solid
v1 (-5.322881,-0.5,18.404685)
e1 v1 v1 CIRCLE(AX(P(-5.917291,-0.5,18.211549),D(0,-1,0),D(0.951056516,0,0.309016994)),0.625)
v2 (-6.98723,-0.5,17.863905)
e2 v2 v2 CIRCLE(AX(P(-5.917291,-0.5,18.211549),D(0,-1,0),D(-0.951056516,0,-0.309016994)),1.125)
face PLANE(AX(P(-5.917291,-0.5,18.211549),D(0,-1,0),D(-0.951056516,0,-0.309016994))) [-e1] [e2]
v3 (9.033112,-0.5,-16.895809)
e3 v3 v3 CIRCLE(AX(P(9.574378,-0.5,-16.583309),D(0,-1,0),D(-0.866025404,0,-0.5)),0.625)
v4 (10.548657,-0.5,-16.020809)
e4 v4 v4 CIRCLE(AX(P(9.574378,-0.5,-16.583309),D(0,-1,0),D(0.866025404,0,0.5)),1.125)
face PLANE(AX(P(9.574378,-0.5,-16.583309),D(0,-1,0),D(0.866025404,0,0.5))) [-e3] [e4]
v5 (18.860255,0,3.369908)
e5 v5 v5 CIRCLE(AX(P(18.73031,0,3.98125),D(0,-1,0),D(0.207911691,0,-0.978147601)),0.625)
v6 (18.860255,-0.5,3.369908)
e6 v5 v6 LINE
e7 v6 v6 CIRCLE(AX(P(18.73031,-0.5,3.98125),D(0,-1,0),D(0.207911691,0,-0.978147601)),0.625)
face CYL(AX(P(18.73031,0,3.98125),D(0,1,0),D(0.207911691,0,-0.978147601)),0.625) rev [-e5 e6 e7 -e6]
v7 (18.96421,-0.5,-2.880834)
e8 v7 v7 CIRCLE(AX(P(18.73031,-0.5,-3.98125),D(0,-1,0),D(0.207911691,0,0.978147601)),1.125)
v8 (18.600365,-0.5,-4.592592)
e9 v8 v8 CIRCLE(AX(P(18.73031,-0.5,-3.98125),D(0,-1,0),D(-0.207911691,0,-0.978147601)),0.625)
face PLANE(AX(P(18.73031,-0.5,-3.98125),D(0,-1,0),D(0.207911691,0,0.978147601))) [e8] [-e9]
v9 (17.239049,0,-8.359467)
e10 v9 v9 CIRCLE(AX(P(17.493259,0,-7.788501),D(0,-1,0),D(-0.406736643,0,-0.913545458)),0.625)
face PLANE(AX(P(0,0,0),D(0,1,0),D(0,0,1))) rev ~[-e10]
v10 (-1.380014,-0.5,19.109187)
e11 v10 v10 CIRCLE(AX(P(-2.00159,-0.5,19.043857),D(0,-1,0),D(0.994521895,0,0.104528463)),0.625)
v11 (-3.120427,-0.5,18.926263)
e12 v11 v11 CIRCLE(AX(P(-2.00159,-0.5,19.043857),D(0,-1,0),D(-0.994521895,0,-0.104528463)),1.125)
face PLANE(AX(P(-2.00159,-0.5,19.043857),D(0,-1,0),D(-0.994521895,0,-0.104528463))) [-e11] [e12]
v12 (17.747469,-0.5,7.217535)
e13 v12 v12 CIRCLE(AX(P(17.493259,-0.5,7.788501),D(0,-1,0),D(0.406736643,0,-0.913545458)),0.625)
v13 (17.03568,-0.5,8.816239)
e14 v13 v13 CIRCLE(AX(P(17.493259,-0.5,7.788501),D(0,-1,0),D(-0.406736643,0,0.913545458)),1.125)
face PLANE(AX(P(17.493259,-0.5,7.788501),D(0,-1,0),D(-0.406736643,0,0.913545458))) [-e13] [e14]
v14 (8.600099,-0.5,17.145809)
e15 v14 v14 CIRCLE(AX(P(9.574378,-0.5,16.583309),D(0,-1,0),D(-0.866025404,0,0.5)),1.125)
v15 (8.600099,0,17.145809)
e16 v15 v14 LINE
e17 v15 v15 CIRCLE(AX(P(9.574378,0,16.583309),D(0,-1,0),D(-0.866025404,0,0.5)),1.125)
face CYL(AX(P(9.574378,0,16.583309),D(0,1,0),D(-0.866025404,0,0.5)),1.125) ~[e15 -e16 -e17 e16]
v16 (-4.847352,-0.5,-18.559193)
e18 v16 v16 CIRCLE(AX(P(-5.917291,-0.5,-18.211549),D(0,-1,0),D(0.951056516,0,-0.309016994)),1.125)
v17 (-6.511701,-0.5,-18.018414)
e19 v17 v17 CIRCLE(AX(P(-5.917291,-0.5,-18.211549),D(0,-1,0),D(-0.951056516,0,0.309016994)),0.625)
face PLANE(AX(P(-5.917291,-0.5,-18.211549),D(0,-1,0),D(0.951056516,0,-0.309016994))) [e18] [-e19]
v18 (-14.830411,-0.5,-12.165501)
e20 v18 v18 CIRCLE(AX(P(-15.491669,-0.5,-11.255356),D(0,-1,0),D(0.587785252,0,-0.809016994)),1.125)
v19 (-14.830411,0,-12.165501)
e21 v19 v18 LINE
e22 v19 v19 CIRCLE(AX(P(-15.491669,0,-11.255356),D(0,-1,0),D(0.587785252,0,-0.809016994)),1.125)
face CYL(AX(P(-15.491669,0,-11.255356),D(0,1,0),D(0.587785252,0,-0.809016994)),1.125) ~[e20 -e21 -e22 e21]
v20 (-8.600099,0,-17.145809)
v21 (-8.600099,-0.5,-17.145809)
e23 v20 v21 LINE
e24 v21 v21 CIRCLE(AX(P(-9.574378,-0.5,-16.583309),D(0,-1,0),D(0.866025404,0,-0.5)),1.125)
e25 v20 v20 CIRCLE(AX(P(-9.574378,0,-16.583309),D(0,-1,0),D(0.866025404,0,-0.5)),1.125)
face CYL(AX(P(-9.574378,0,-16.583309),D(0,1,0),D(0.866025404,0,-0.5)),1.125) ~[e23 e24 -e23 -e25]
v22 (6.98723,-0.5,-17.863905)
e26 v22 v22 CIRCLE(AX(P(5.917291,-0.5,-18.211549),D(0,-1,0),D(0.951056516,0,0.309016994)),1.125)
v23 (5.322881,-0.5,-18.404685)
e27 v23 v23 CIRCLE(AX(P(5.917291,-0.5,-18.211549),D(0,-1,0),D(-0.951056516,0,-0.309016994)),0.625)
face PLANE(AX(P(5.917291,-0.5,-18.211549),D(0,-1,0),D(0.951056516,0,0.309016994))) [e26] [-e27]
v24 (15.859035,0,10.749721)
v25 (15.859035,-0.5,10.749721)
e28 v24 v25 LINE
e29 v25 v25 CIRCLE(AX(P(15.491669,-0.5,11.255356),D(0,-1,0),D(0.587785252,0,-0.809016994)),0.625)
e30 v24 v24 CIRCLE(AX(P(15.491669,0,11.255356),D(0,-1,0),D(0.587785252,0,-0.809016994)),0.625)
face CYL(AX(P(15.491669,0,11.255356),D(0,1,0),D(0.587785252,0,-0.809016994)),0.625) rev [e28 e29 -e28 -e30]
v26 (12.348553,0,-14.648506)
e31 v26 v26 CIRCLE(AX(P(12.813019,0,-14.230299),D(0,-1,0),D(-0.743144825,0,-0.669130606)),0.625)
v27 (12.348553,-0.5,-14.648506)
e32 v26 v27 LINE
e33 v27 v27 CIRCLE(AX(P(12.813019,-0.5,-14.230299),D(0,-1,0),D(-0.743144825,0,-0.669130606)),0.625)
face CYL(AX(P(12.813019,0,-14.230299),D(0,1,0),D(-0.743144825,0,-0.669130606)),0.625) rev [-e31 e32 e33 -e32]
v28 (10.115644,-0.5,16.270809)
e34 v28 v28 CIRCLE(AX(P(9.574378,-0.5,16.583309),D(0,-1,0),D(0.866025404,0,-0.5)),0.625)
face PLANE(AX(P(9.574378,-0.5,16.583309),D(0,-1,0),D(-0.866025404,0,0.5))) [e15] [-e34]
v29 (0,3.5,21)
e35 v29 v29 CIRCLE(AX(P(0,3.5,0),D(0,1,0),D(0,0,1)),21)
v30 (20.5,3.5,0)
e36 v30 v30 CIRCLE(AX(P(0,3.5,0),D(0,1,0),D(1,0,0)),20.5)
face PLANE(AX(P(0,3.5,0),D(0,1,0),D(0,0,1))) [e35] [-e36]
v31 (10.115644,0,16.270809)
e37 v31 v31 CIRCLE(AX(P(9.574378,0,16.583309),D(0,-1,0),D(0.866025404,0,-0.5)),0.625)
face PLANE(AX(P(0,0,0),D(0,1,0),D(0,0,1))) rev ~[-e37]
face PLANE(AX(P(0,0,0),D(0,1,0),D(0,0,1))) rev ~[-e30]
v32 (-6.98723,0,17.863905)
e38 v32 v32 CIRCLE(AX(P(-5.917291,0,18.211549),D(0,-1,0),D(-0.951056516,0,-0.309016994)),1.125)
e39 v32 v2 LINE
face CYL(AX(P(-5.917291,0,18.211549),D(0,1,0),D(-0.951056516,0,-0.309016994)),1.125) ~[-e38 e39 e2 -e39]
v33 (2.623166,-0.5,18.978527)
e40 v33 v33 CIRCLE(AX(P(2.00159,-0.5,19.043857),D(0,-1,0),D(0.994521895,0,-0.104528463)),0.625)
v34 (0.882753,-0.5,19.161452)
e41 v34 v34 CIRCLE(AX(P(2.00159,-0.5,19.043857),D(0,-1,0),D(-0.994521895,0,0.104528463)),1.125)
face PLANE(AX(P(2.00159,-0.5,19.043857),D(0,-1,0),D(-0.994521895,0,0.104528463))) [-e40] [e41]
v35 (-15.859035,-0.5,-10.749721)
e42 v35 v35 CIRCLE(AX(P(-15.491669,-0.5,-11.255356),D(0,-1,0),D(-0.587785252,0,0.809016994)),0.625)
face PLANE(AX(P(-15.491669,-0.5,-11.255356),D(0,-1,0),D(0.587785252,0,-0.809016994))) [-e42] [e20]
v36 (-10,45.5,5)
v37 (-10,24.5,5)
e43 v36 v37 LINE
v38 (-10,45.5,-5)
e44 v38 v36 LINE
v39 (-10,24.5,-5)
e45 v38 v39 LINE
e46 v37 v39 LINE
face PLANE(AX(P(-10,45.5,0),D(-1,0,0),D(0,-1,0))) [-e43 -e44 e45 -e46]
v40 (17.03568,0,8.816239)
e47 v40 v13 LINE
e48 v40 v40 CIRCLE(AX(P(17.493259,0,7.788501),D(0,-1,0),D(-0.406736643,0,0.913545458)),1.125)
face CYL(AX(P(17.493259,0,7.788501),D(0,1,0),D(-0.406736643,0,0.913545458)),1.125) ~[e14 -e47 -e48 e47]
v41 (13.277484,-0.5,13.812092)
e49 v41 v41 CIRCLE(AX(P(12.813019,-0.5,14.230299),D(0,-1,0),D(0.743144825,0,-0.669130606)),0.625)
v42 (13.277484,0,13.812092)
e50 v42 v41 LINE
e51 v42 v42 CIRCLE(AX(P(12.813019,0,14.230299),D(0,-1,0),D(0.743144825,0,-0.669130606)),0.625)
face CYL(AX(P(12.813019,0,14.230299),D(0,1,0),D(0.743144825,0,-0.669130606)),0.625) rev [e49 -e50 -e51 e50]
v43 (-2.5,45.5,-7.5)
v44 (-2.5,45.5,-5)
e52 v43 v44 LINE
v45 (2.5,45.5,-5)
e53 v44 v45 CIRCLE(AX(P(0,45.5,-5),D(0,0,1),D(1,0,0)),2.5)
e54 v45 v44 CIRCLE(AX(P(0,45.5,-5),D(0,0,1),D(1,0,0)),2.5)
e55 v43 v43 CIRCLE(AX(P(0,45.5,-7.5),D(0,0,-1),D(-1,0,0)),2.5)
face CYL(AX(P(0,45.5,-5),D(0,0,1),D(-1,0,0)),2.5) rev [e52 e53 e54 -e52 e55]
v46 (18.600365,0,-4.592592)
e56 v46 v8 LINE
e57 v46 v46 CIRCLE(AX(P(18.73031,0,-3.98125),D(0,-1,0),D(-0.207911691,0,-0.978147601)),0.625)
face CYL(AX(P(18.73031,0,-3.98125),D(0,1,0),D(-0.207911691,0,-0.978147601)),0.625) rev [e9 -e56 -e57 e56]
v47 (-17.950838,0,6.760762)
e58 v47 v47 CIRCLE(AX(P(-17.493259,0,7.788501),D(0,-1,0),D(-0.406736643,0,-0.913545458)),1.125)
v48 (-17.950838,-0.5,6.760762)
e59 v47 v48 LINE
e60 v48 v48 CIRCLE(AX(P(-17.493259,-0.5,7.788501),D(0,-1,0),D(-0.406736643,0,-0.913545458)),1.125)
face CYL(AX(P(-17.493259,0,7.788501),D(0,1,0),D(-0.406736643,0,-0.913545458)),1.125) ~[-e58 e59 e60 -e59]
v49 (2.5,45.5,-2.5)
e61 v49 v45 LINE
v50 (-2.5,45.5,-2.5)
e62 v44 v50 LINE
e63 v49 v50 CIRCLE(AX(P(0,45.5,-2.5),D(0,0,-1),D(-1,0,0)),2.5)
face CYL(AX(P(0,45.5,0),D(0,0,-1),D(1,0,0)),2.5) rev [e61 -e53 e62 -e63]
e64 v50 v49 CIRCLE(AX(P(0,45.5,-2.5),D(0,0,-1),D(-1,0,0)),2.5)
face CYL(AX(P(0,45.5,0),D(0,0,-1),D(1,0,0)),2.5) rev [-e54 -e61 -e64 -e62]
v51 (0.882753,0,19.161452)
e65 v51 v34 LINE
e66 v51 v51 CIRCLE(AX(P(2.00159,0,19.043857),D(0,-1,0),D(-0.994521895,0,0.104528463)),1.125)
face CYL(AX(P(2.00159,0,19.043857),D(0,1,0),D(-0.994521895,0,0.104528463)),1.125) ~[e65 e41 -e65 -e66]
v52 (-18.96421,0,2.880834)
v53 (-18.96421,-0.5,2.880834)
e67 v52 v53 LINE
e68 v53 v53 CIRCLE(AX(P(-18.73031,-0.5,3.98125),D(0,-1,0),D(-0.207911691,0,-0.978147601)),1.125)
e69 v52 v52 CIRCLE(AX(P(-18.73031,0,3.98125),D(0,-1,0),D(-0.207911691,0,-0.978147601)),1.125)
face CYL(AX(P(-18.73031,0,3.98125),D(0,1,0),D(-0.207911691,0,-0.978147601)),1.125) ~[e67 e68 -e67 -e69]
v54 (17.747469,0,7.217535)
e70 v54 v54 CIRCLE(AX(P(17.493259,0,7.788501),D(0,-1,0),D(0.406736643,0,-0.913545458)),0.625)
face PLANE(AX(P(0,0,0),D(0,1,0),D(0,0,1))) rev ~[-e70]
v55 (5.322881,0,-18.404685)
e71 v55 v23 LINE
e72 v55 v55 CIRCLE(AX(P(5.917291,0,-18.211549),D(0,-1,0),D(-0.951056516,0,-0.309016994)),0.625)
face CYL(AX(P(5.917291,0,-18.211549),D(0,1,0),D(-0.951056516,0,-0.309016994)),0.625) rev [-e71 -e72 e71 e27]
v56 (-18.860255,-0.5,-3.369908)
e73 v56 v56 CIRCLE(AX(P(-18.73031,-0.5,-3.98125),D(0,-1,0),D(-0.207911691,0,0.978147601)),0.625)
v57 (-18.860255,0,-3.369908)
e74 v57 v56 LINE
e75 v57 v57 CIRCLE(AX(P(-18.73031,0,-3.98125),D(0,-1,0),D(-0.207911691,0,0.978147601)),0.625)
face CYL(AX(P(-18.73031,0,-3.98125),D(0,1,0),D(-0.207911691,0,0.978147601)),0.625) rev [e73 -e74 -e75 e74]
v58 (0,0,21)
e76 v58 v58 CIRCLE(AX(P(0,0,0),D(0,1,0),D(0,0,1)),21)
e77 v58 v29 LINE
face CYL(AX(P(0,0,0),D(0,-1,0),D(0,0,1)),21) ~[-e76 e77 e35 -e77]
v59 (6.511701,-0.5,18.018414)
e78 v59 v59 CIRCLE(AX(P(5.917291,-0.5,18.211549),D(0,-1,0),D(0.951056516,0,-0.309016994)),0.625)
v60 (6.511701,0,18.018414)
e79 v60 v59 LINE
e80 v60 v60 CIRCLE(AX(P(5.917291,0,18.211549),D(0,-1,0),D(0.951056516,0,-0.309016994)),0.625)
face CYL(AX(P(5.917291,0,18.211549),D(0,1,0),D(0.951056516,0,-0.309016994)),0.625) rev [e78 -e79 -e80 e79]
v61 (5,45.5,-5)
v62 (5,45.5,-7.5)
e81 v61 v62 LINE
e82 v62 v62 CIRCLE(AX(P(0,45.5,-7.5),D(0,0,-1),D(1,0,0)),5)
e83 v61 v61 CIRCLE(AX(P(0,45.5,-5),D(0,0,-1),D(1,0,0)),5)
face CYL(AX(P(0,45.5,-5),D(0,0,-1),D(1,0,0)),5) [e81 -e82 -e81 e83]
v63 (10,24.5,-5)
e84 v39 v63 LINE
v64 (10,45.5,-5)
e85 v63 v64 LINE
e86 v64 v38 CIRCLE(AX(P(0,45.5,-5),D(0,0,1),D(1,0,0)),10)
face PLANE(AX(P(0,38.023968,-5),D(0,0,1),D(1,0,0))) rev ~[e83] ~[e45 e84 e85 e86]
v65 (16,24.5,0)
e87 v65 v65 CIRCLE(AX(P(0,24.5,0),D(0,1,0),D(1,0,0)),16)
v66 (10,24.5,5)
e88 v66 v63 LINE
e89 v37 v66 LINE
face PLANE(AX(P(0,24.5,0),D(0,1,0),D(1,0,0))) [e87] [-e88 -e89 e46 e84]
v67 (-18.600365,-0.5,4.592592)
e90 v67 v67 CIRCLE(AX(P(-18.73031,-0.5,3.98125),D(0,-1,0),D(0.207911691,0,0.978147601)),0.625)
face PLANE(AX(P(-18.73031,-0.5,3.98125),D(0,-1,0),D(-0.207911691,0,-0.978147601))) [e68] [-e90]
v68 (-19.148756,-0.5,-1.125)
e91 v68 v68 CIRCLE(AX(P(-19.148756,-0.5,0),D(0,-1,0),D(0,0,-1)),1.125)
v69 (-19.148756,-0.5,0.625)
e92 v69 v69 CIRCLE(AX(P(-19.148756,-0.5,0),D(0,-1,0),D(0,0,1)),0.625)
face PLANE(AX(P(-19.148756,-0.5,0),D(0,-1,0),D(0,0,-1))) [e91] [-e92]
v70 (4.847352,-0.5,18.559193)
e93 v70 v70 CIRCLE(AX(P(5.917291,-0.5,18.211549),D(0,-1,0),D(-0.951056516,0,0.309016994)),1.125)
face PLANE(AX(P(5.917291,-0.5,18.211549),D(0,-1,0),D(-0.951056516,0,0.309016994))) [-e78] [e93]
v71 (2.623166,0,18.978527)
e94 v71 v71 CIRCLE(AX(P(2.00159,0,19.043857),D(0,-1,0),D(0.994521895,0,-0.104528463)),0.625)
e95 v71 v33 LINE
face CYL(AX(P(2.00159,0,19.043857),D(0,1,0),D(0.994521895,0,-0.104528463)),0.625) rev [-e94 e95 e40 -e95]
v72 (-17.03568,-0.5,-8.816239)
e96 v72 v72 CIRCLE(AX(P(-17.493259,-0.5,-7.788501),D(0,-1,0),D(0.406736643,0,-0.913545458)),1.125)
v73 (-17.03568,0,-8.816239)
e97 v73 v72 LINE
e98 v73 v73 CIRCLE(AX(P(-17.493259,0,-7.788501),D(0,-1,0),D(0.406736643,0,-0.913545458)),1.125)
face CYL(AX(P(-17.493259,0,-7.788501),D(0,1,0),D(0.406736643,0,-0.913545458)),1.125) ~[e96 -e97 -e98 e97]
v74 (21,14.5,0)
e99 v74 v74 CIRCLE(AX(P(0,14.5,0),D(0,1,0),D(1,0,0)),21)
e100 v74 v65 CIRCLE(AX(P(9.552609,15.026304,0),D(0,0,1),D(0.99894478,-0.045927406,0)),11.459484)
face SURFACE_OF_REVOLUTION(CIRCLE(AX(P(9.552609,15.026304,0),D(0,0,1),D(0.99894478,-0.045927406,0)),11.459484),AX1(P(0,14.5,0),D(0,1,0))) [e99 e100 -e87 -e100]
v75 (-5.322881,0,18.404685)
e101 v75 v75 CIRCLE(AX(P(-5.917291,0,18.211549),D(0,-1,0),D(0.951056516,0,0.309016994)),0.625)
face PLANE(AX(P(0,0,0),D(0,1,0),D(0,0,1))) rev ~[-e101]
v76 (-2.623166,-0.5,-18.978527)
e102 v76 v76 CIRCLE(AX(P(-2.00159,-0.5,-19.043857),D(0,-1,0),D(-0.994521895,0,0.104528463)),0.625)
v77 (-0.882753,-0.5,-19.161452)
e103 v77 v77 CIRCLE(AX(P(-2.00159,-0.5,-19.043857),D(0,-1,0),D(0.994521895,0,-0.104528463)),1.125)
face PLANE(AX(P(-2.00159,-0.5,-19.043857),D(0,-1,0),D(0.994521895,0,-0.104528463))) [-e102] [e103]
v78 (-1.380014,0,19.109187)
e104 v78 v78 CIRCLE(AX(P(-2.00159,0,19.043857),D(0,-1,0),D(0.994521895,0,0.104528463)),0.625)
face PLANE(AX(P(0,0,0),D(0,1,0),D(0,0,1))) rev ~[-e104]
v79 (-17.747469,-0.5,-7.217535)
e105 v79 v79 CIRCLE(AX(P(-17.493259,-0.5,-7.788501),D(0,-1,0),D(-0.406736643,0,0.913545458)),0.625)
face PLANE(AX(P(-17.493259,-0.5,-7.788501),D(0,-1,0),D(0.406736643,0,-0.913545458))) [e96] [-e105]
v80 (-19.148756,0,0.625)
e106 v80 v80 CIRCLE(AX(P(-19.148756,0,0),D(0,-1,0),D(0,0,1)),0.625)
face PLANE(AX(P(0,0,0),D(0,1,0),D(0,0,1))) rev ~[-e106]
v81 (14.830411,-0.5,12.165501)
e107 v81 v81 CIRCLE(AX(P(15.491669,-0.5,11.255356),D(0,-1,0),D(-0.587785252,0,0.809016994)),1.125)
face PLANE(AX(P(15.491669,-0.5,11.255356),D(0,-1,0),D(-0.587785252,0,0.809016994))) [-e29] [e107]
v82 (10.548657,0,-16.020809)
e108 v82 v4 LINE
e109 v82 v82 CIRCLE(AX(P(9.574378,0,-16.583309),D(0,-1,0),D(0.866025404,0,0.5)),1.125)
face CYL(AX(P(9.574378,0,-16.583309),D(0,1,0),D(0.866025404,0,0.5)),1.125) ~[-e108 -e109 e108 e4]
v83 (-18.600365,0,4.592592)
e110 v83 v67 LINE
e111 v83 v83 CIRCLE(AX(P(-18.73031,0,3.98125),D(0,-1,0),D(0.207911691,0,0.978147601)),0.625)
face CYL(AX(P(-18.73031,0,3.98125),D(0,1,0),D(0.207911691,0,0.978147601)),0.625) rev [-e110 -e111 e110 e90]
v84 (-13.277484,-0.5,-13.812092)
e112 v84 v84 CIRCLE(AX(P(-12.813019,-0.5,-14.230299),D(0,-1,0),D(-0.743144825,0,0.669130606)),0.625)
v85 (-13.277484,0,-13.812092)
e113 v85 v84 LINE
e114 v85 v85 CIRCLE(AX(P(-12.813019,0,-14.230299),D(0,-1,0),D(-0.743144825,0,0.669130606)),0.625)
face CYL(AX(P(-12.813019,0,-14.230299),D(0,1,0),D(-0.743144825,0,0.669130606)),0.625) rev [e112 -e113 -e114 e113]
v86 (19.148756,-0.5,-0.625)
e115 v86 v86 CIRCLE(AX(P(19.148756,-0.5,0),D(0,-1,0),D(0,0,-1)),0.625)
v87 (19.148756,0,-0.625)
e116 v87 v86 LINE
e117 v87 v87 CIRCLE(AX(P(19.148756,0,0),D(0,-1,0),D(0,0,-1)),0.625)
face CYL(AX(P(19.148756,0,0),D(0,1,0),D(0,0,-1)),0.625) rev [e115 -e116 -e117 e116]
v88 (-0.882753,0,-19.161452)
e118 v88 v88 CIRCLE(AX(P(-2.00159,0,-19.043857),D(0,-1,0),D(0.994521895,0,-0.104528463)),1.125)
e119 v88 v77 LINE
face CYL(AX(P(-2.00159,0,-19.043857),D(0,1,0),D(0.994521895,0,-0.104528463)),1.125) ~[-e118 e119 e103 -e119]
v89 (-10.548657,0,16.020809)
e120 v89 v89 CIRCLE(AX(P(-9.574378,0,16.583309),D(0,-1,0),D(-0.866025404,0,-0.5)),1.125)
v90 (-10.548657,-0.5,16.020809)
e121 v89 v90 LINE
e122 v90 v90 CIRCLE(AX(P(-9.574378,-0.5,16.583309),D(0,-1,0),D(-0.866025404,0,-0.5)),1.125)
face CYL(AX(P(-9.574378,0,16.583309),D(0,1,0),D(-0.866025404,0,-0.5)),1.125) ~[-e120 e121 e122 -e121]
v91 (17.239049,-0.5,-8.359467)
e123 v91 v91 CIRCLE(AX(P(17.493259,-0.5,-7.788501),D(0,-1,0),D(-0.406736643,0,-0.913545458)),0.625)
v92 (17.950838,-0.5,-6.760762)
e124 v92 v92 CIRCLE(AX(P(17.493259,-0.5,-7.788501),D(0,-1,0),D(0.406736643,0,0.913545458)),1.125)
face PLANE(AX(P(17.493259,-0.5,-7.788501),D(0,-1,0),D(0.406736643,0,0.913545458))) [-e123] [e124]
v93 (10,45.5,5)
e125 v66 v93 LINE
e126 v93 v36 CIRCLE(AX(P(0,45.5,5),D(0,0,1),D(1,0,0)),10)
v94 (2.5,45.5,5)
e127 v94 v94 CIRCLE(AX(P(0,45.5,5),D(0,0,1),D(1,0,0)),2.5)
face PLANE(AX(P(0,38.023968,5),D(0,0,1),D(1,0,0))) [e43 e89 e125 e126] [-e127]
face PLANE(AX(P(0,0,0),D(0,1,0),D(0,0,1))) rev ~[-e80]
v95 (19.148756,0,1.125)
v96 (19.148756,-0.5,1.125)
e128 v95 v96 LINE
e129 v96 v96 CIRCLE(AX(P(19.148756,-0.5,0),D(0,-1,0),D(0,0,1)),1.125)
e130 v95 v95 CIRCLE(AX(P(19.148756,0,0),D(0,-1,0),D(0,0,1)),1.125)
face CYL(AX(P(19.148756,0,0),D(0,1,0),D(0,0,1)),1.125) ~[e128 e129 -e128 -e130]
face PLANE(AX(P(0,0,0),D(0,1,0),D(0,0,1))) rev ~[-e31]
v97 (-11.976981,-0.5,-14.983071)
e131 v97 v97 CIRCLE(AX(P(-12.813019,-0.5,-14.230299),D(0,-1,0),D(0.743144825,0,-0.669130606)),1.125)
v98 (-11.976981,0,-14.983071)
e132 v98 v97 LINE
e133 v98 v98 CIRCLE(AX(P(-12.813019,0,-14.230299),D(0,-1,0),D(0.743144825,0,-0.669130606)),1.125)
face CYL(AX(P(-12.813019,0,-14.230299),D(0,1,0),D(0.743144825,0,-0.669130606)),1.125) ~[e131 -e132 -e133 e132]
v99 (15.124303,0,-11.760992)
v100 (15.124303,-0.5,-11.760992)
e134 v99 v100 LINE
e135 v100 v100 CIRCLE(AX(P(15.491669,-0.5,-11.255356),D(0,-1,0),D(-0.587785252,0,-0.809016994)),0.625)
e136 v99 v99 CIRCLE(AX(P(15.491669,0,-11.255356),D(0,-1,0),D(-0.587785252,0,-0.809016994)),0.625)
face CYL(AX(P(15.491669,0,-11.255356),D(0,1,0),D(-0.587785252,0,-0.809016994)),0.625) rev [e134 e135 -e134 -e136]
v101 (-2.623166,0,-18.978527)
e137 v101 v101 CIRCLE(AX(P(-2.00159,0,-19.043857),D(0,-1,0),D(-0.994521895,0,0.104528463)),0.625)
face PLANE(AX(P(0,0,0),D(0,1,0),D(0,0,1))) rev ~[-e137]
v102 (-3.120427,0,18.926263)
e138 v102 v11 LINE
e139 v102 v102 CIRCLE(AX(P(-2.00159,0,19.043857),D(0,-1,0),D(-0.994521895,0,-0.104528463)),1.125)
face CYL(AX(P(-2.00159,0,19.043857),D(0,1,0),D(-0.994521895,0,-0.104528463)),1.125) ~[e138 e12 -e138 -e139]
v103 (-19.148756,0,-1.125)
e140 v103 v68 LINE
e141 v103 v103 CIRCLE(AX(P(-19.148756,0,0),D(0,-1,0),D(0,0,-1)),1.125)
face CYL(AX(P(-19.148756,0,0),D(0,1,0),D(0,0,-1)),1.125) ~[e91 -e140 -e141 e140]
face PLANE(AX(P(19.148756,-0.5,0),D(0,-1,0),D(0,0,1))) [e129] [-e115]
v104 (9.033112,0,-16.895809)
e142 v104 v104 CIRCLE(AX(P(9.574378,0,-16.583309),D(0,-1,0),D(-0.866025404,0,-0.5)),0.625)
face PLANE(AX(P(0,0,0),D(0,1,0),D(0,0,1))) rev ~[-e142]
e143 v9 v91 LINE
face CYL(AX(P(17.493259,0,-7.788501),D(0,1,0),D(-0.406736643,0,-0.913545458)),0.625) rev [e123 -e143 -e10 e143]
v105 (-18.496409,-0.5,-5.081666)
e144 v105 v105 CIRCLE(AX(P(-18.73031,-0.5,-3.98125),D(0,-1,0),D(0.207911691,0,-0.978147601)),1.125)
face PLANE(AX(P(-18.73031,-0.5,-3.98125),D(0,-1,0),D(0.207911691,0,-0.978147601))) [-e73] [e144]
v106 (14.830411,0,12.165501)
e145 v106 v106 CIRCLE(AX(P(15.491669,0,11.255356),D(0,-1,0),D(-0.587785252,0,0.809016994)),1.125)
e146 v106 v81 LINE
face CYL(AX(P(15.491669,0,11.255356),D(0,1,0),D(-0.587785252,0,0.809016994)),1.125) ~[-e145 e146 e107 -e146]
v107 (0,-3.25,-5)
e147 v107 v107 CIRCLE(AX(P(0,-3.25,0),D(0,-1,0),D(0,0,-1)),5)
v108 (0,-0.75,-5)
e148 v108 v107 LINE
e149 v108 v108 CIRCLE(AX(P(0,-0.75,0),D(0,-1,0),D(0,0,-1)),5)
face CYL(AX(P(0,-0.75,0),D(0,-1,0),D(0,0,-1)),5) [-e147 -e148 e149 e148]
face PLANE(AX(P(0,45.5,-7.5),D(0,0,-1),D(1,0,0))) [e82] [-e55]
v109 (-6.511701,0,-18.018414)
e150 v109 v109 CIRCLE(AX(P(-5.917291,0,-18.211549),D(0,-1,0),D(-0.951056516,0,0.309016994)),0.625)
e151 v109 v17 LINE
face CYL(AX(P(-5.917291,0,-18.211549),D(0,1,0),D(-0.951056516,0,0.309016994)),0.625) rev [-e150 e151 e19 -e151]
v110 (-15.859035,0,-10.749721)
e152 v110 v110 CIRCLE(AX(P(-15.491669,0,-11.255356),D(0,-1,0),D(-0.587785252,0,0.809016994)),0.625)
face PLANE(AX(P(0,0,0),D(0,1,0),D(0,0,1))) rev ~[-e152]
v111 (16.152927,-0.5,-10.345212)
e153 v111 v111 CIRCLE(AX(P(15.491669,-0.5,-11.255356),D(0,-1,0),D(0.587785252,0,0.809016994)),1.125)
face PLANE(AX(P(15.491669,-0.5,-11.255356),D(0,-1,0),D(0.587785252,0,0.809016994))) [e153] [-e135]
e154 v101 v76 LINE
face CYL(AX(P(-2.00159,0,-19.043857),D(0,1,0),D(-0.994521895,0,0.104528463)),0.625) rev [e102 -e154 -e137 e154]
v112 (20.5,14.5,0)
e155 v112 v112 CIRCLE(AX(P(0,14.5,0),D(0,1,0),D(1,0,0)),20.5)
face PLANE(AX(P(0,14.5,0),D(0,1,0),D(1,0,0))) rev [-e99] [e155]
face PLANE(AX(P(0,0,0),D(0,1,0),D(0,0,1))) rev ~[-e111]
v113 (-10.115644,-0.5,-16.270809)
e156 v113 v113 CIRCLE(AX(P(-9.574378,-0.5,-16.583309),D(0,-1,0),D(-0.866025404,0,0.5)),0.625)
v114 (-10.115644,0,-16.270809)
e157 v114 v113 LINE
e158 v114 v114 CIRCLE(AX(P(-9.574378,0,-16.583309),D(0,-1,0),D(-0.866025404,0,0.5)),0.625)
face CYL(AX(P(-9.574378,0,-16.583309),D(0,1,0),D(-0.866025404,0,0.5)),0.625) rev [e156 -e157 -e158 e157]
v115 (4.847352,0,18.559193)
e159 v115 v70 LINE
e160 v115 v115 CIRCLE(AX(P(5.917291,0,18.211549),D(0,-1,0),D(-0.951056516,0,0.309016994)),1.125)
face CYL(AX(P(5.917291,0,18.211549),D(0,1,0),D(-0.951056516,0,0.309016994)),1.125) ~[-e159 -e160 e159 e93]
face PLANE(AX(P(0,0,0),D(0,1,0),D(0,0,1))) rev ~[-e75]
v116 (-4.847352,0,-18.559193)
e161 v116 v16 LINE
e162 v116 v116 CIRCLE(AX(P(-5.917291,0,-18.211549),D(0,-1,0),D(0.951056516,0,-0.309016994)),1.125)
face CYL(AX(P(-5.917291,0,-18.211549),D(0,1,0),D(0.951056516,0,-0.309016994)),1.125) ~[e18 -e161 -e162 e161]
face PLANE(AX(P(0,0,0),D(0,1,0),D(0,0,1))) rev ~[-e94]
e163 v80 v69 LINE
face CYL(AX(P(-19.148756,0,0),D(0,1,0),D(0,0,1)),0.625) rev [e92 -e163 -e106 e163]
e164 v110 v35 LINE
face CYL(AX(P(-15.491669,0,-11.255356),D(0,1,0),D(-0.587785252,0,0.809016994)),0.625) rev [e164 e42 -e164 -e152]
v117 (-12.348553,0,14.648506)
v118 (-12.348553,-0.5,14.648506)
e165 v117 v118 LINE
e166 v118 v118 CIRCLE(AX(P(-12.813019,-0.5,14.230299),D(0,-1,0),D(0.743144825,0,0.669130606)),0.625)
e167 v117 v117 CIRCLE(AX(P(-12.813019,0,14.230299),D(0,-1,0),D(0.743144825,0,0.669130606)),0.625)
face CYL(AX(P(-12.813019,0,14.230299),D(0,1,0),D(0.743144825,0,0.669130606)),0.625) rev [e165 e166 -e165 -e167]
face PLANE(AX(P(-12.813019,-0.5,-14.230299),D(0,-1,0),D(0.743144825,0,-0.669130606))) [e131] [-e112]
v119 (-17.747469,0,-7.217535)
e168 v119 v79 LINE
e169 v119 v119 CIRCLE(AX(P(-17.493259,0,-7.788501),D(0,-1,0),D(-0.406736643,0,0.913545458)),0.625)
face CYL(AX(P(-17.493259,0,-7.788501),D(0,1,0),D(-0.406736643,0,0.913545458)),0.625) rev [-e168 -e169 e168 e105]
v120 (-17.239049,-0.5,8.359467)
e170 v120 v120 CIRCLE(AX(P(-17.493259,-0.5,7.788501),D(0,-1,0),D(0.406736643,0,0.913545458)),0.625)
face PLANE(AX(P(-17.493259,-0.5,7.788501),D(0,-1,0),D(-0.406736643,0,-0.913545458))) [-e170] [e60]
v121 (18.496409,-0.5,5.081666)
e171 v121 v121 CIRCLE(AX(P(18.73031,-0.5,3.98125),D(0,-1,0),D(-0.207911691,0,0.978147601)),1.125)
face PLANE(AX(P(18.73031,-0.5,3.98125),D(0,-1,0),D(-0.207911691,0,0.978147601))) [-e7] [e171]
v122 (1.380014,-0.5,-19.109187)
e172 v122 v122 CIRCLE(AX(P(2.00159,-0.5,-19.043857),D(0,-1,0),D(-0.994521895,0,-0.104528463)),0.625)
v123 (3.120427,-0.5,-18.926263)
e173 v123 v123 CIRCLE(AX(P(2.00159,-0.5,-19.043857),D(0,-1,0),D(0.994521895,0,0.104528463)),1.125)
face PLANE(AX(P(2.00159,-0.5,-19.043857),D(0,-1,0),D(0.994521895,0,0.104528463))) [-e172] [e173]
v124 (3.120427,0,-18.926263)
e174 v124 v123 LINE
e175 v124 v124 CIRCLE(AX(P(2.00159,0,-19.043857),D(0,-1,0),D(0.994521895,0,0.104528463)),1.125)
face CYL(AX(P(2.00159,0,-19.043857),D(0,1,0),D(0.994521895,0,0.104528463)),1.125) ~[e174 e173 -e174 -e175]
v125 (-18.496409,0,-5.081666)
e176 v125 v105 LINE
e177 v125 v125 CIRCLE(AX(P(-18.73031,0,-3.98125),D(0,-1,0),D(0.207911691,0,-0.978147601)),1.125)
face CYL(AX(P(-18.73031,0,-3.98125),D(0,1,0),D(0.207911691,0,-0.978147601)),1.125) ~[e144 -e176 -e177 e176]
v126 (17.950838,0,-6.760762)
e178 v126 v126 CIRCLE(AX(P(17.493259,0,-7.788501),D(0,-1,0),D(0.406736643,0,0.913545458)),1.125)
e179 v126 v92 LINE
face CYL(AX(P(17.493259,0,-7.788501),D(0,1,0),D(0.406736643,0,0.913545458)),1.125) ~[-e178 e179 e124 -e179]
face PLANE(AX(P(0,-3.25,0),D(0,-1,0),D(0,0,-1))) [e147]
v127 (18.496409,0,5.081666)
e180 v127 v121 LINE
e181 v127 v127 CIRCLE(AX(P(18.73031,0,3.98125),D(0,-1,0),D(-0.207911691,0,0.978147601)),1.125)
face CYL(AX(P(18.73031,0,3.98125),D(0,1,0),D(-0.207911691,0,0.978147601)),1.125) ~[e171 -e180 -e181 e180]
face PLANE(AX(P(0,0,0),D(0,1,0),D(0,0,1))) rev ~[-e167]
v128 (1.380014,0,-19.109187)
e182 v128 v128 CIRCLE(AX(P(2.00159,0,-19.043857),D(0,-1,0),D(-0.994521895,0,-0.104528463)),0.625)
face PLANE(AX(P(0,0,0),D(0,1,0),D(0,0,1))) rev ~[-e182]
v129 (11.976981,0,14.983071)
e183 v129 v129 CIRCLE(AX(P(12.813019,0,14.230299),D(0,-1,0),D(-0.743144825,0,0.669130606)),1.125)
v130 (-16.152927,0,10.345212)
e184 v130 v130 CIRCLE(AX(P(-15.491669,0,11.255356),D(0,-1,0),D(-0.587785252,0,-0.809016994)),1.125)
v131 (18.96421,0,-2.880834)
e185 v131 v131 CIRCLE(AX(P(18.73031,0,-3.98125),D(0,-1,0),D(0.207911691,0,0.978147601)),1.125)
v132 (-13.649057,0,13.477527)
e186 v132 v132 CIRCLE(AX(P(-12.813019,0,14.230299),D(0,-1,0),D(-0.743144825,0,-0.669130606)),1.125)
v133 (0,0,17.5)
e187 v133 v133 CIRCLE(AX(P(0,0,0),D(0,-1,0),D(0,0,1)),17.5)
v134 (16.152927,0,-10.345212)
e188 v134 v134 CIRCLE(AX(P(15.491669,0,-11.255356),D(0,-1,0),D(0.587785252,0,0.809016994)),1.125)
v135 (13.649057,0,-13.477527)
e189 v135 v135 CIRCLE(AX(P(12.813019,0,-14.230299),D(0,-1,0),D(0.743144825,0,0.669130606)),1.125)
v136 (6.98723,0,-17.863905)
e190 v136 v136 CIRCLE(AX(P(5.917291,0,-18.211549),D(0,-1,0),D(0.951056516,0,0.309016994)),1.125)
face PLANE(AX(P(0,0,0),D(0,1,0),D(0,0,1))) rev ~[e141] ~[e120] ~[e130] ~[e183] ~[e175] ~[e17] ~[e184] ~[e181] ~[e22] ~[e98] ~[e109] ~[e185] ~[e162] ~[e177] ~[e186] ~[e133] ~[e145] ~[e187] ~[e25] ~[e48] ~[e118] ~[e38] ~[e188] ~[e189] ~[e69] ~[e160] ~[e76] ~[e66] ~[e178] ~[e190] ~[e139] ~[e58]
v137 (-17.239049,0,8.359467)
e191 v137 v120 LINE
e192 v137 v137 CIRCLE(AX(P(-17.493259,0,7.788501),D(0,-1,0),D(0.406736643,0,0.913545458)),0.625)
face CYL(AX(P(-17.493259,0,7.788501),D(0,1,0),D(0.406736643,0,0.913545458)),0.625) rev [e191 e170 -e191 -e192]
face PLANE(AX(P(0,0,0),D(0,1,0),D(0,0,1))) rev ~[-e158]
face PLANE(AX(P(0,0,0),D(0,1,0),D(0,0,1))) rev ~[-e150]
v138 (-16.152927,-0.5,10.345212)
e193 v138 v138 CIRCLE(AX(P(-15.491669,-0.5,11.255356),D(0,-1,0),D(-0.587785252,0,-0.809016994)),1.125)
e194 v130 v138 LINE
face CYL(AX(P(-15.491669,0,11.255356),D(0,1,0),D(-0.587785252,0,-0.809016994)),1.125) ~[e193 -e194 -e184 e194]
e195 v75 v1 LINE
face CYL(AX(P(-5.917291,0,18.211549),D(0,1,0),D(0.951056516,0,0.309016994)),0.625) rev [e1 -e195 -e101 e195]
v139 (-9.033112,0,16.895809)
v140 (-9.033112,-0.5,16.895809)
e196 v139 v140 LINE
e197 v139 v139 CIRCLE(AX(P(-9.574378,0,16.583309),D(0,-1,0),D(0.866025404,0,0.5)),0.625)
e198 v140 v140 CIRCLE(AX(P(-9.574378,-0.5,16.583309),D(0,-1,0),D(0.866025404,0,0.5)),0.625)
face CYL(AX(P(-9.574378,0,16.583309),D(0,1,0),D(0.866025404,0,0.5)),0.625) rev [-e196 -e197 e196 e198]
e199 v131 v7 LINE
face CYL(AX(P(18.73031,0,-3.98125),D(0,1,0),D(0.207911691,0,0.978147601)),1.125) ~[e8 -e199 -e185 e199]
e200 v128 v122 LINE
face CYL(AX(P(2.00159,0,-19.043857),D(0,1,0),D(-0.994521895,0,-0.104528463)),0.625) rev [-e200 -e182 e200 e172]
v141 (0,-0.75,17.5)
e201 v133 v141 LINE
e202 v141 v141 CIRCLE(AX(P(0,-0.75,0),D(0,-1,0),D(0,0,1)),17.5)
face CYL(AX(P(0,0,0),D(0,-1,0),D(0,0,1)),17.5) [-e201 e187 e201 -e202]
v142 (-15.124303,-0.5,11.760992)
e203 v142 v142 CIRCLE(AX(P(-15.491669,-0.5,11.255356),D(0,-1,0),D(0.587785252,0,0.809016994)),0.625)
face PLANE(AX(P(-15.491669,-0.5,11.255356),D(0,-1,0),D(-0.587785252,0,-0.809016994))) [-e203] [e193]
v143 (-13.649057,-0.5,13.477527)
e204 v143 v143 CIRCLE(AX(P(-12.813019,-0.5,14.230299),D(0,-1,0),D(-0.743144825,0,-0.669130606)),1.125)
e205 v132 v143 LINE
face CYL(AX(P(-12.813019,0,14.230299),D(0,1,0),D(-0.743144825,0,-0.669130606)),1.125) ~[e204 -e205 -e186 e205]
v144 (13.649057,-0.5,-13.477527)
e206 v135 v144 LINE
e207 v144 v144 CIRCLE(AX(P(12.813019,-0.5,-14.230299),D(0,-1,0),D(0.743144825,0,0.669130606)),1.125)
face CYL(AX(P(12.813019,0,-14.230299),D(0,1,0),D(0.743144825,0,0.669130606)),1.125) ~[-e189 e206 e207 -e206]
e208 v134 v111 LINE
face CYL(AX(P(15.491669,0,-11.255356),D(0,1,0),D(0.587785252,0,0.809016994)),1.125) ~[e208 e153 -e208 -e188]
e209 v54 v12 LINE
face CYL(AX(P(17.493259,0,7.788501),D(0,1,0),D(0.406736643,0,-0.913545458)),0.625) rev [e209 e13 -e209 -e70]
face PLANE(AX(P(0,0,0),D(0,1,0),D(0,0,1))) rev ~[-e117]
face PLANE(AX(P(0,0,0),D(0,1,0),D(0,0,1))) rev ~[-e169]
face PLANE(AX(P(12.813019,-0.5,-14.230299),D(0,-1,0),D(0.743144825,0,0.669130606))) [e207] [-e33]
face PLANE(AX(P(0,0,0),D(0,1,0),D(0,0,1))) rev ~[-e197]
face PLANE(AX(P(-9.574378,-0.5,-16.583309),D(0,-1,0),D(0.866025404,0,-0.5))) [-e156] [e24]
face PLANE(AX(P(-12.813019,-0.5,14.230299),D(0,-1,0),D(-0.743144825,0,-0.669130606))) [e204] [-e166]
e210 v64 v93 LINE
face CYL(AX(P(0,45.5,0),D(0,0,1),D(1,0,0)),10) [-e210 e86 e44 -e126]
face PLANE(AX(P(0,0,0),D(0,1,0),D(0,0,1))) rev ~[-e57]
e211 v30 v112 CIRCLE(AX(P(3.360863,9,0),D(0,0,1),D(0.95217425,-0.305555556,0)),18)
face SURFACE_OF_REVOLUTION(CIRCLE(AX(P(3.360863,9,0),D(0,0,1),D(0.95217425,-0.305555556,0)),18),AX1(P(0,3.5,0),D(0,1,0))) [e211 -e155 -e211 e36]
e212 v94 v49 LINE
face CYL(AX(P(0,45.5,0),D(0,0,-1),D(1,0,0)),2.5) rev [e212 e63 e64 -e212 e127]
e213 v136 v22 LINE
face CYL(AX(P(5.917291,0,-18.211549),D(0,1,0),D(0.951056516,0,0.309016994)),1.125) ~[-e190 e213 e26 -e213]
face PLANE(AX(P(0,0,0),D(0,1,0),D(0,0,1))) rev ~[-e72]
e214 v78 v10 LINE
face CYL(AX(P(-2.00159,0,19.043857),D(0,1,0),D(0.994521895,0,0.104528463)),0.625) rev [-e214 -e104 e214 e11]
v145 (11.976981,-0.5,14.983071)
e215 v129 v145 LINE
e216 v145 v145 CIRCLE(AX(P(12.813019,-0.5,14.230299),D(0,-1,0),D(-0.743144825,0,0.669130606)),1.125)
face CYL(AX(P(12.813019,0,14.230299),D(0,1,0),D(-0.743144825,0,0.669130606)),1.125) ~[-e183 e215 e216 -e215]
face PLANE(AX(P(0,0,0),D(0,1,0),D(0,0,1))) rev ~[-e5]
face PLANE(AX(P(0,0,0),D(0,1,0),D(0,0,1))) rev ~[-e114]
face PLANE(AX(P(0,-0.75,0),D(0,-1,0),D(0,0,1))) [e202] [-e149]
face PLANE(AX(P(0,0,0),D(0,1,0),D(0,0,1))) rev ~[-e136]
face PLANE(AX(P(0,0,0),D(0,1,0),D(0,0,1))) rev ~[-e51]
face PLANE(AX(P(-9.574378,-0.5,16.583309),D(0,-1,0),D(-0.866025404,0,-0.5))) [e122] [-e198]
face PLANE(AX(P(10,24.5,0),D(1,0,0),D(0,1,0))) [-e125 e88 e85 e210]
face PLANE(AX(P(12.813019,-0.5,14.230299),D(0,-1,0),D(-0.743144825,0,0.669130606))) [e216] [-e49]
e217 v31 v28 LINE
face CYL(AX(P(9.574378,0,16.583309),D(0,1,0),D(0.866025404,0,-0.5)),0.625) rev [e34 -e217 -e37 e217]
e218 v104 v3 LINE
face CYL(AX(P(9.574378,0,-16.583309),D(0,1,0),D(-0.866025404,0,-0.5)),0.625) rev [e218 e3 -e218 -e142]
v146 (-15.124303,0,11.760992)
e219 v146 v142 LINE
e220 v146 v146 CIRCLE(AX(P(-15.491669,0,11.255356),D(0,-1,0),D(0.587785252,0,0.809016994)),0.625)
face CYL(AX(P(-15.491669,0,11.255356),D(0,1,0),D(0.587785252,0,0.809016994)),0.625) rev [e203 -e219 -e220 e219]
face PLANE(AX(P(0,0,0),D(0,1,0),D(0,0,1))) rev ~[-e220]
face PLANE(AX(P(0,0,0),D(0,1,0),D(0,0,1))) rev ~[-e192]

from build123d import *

# Parameters (mm, degrees)
SKETCH1_R            = 21
BOSS_EXTRUDE1_DEPTH  = 3.5
SKETCH5_R            = 2.5
BOSS_EXTRUDE2_DEPTH  = 5
SKETCH6_R            = 5
SKETCH6_R_2          = 2.5
BOSS_EXTRUDE3_DEPTH  = 2.5
SKETCH7_R            = 17.5
BOSS_EXTRUDE4_DEPTH  = 0.75
SKETCH8_R            = 5
BOSS_EXTRUDE5_DEPTH  = 2.5
SKETCH10_R           = 1.125
SKETCH10_R_2         = 0.625
BOSS_EXTRUDE12_DEPTH = 0.5
CIRPATTERN1_COUNT    = 30


with BuildPart() as part:
    # Sketch1 → Boss-Extrude1 (new body)
    with BuildSketch(Plane(origin=(0, 0, 0), x_dir=(1, 0, 0), z_dir=(0, 1, 0))):
        with Locations(Location((0, 0, 0), (0, 0, 270))):
            Circle(SKETCH1_R)
    extrude(amount=BOSS_EXTRUDE1_DEPTH)

    # Sketch2 → Revolve3 (revolve)
    with BuildSketch(Plane.XY, mode=Mode.PRIVATE) as revolve3_sk:
        with BuildLine():
            Line((0, 3.5), (-20.5, 3.5))
            ThreePointArc((-20.5, 3.5), (-21.360863499, 9), (-20.5, 14.5))
            Line((-20.5, 14.5), (0, 14.5))
            Line((0, 14.5), (0, 3.5))
        make_face()
    revolve(revolve3_sk.sketch.rotate(Axis((0, 3.5, 0), (0, 1, 0)), 180), axis=Axis((0, 3.5, 0), (0, 1, 0)))

    # Sketch4 → Revolve4 (revolve)
    with BuildSketch(Plane.XY):
        with BuildLine():
            Line((0, 14.5), (21, 14.5))
            ThreePointArc((21, 14.5), (19.802282406, 20.151141203), (16, 24.5))
            Line((16, 24.5), (0, 24.5))
            Line((0, 24.5), (0, 14.5))
        make_face()
    revolve(axis=Axis((0, 14.5, 0), (0, 1, 0)))

    # Sketch5 → Boss-Extrude2 (add, symmetric)
    with BuildSketch(Plane.XY):
        with BuildLine():
            Line((0, 24.5), (10, 24.5))
            Line((10, 24.5), (10, 45.5))
            ThreePointArc((10, 45.5), (0, 55.5), (-10, 45.5))
            Line((-10, 45.5), (-10, 24.5))
            Line((-10, 24.5), (0, 24.5))
        make_face()
        with Locations((0, 45.5)):
            Circle(SKETCH5_R, mode=Mode.SUBTRACT)
    extrude(amount=BOSS_EXTRUDE2_DEPTH, both=True)

    # Sketch6 → Boss-Extrude3 (add, symmetric)
    with BuildSketch(Plane(origin=(0, 0, -5), x_dir=(-1, 0, 0), z_dir=(0, 0, -1))):
        with Locations(Location((0, 45.5, 0), (0, 0, 180))):
            Circle(SKETCH6_R)
        with Locations((0, 45.5)):
            Circle(SKETCH6_R_2, mode=Mode.SUBTRACT)
    extrude(amount=BOSS_EXTRUDE3_DEPTH, both=True)

    # Sketch7 → Boss-Extrude4 (add, symmetric)
    with BuildSketch(Plane.XZ):
        with Locations(Location((0, 0, 0), (0, 0, 90))):
            Circle(SKETCH7_R)
    extrude(amount=BOSS_EXTRUDE4_DEPTH, both=True)

    # Sketch8 → Boss-Extrude5 (add, symmetric)
    with BuildSketch(Plane(origin=(0, -0.75, 0), x_dir=(-1, 0, 0), z_dir=(0, -1, 0))):
        with Locations(Location((0, 0, 0), (0, 0, 90))):
            Circle(SKETCH8_R)
    extrude(amount=BOSS_EXTRUDE5_DEPTH, both=True)

    # Sketch10 → Boss-Extrude12 (add)
    with BuildSketch(Plane.XZ):
        with Locations(Location((19.148756021, 0, 0), (0, 0, 90))):
            Circle(SKETCH10_R)
        with Locations(Location((19.148756021, 0, 0), (0, 0, 270))):
            Circle(SKETCH10_R_2, mode=Mode.SUBTRACT)
    boss_extrude12 = extrude(amount=BOSS_EXTRUDE12_DEPTH)

    # CirPattern1: Boss-Extrude12 ×30 about axis
    cirpattern1_axis = Axis((0, 0, 0), (0, 1, 0))
    for i in range(1, CIRPATTERN1_COUNT):
        add(boss_extrude12.rotate(cirpattern1_axis, i * 360 / CIRPATTERN1_COUNT))


solid = part.part
